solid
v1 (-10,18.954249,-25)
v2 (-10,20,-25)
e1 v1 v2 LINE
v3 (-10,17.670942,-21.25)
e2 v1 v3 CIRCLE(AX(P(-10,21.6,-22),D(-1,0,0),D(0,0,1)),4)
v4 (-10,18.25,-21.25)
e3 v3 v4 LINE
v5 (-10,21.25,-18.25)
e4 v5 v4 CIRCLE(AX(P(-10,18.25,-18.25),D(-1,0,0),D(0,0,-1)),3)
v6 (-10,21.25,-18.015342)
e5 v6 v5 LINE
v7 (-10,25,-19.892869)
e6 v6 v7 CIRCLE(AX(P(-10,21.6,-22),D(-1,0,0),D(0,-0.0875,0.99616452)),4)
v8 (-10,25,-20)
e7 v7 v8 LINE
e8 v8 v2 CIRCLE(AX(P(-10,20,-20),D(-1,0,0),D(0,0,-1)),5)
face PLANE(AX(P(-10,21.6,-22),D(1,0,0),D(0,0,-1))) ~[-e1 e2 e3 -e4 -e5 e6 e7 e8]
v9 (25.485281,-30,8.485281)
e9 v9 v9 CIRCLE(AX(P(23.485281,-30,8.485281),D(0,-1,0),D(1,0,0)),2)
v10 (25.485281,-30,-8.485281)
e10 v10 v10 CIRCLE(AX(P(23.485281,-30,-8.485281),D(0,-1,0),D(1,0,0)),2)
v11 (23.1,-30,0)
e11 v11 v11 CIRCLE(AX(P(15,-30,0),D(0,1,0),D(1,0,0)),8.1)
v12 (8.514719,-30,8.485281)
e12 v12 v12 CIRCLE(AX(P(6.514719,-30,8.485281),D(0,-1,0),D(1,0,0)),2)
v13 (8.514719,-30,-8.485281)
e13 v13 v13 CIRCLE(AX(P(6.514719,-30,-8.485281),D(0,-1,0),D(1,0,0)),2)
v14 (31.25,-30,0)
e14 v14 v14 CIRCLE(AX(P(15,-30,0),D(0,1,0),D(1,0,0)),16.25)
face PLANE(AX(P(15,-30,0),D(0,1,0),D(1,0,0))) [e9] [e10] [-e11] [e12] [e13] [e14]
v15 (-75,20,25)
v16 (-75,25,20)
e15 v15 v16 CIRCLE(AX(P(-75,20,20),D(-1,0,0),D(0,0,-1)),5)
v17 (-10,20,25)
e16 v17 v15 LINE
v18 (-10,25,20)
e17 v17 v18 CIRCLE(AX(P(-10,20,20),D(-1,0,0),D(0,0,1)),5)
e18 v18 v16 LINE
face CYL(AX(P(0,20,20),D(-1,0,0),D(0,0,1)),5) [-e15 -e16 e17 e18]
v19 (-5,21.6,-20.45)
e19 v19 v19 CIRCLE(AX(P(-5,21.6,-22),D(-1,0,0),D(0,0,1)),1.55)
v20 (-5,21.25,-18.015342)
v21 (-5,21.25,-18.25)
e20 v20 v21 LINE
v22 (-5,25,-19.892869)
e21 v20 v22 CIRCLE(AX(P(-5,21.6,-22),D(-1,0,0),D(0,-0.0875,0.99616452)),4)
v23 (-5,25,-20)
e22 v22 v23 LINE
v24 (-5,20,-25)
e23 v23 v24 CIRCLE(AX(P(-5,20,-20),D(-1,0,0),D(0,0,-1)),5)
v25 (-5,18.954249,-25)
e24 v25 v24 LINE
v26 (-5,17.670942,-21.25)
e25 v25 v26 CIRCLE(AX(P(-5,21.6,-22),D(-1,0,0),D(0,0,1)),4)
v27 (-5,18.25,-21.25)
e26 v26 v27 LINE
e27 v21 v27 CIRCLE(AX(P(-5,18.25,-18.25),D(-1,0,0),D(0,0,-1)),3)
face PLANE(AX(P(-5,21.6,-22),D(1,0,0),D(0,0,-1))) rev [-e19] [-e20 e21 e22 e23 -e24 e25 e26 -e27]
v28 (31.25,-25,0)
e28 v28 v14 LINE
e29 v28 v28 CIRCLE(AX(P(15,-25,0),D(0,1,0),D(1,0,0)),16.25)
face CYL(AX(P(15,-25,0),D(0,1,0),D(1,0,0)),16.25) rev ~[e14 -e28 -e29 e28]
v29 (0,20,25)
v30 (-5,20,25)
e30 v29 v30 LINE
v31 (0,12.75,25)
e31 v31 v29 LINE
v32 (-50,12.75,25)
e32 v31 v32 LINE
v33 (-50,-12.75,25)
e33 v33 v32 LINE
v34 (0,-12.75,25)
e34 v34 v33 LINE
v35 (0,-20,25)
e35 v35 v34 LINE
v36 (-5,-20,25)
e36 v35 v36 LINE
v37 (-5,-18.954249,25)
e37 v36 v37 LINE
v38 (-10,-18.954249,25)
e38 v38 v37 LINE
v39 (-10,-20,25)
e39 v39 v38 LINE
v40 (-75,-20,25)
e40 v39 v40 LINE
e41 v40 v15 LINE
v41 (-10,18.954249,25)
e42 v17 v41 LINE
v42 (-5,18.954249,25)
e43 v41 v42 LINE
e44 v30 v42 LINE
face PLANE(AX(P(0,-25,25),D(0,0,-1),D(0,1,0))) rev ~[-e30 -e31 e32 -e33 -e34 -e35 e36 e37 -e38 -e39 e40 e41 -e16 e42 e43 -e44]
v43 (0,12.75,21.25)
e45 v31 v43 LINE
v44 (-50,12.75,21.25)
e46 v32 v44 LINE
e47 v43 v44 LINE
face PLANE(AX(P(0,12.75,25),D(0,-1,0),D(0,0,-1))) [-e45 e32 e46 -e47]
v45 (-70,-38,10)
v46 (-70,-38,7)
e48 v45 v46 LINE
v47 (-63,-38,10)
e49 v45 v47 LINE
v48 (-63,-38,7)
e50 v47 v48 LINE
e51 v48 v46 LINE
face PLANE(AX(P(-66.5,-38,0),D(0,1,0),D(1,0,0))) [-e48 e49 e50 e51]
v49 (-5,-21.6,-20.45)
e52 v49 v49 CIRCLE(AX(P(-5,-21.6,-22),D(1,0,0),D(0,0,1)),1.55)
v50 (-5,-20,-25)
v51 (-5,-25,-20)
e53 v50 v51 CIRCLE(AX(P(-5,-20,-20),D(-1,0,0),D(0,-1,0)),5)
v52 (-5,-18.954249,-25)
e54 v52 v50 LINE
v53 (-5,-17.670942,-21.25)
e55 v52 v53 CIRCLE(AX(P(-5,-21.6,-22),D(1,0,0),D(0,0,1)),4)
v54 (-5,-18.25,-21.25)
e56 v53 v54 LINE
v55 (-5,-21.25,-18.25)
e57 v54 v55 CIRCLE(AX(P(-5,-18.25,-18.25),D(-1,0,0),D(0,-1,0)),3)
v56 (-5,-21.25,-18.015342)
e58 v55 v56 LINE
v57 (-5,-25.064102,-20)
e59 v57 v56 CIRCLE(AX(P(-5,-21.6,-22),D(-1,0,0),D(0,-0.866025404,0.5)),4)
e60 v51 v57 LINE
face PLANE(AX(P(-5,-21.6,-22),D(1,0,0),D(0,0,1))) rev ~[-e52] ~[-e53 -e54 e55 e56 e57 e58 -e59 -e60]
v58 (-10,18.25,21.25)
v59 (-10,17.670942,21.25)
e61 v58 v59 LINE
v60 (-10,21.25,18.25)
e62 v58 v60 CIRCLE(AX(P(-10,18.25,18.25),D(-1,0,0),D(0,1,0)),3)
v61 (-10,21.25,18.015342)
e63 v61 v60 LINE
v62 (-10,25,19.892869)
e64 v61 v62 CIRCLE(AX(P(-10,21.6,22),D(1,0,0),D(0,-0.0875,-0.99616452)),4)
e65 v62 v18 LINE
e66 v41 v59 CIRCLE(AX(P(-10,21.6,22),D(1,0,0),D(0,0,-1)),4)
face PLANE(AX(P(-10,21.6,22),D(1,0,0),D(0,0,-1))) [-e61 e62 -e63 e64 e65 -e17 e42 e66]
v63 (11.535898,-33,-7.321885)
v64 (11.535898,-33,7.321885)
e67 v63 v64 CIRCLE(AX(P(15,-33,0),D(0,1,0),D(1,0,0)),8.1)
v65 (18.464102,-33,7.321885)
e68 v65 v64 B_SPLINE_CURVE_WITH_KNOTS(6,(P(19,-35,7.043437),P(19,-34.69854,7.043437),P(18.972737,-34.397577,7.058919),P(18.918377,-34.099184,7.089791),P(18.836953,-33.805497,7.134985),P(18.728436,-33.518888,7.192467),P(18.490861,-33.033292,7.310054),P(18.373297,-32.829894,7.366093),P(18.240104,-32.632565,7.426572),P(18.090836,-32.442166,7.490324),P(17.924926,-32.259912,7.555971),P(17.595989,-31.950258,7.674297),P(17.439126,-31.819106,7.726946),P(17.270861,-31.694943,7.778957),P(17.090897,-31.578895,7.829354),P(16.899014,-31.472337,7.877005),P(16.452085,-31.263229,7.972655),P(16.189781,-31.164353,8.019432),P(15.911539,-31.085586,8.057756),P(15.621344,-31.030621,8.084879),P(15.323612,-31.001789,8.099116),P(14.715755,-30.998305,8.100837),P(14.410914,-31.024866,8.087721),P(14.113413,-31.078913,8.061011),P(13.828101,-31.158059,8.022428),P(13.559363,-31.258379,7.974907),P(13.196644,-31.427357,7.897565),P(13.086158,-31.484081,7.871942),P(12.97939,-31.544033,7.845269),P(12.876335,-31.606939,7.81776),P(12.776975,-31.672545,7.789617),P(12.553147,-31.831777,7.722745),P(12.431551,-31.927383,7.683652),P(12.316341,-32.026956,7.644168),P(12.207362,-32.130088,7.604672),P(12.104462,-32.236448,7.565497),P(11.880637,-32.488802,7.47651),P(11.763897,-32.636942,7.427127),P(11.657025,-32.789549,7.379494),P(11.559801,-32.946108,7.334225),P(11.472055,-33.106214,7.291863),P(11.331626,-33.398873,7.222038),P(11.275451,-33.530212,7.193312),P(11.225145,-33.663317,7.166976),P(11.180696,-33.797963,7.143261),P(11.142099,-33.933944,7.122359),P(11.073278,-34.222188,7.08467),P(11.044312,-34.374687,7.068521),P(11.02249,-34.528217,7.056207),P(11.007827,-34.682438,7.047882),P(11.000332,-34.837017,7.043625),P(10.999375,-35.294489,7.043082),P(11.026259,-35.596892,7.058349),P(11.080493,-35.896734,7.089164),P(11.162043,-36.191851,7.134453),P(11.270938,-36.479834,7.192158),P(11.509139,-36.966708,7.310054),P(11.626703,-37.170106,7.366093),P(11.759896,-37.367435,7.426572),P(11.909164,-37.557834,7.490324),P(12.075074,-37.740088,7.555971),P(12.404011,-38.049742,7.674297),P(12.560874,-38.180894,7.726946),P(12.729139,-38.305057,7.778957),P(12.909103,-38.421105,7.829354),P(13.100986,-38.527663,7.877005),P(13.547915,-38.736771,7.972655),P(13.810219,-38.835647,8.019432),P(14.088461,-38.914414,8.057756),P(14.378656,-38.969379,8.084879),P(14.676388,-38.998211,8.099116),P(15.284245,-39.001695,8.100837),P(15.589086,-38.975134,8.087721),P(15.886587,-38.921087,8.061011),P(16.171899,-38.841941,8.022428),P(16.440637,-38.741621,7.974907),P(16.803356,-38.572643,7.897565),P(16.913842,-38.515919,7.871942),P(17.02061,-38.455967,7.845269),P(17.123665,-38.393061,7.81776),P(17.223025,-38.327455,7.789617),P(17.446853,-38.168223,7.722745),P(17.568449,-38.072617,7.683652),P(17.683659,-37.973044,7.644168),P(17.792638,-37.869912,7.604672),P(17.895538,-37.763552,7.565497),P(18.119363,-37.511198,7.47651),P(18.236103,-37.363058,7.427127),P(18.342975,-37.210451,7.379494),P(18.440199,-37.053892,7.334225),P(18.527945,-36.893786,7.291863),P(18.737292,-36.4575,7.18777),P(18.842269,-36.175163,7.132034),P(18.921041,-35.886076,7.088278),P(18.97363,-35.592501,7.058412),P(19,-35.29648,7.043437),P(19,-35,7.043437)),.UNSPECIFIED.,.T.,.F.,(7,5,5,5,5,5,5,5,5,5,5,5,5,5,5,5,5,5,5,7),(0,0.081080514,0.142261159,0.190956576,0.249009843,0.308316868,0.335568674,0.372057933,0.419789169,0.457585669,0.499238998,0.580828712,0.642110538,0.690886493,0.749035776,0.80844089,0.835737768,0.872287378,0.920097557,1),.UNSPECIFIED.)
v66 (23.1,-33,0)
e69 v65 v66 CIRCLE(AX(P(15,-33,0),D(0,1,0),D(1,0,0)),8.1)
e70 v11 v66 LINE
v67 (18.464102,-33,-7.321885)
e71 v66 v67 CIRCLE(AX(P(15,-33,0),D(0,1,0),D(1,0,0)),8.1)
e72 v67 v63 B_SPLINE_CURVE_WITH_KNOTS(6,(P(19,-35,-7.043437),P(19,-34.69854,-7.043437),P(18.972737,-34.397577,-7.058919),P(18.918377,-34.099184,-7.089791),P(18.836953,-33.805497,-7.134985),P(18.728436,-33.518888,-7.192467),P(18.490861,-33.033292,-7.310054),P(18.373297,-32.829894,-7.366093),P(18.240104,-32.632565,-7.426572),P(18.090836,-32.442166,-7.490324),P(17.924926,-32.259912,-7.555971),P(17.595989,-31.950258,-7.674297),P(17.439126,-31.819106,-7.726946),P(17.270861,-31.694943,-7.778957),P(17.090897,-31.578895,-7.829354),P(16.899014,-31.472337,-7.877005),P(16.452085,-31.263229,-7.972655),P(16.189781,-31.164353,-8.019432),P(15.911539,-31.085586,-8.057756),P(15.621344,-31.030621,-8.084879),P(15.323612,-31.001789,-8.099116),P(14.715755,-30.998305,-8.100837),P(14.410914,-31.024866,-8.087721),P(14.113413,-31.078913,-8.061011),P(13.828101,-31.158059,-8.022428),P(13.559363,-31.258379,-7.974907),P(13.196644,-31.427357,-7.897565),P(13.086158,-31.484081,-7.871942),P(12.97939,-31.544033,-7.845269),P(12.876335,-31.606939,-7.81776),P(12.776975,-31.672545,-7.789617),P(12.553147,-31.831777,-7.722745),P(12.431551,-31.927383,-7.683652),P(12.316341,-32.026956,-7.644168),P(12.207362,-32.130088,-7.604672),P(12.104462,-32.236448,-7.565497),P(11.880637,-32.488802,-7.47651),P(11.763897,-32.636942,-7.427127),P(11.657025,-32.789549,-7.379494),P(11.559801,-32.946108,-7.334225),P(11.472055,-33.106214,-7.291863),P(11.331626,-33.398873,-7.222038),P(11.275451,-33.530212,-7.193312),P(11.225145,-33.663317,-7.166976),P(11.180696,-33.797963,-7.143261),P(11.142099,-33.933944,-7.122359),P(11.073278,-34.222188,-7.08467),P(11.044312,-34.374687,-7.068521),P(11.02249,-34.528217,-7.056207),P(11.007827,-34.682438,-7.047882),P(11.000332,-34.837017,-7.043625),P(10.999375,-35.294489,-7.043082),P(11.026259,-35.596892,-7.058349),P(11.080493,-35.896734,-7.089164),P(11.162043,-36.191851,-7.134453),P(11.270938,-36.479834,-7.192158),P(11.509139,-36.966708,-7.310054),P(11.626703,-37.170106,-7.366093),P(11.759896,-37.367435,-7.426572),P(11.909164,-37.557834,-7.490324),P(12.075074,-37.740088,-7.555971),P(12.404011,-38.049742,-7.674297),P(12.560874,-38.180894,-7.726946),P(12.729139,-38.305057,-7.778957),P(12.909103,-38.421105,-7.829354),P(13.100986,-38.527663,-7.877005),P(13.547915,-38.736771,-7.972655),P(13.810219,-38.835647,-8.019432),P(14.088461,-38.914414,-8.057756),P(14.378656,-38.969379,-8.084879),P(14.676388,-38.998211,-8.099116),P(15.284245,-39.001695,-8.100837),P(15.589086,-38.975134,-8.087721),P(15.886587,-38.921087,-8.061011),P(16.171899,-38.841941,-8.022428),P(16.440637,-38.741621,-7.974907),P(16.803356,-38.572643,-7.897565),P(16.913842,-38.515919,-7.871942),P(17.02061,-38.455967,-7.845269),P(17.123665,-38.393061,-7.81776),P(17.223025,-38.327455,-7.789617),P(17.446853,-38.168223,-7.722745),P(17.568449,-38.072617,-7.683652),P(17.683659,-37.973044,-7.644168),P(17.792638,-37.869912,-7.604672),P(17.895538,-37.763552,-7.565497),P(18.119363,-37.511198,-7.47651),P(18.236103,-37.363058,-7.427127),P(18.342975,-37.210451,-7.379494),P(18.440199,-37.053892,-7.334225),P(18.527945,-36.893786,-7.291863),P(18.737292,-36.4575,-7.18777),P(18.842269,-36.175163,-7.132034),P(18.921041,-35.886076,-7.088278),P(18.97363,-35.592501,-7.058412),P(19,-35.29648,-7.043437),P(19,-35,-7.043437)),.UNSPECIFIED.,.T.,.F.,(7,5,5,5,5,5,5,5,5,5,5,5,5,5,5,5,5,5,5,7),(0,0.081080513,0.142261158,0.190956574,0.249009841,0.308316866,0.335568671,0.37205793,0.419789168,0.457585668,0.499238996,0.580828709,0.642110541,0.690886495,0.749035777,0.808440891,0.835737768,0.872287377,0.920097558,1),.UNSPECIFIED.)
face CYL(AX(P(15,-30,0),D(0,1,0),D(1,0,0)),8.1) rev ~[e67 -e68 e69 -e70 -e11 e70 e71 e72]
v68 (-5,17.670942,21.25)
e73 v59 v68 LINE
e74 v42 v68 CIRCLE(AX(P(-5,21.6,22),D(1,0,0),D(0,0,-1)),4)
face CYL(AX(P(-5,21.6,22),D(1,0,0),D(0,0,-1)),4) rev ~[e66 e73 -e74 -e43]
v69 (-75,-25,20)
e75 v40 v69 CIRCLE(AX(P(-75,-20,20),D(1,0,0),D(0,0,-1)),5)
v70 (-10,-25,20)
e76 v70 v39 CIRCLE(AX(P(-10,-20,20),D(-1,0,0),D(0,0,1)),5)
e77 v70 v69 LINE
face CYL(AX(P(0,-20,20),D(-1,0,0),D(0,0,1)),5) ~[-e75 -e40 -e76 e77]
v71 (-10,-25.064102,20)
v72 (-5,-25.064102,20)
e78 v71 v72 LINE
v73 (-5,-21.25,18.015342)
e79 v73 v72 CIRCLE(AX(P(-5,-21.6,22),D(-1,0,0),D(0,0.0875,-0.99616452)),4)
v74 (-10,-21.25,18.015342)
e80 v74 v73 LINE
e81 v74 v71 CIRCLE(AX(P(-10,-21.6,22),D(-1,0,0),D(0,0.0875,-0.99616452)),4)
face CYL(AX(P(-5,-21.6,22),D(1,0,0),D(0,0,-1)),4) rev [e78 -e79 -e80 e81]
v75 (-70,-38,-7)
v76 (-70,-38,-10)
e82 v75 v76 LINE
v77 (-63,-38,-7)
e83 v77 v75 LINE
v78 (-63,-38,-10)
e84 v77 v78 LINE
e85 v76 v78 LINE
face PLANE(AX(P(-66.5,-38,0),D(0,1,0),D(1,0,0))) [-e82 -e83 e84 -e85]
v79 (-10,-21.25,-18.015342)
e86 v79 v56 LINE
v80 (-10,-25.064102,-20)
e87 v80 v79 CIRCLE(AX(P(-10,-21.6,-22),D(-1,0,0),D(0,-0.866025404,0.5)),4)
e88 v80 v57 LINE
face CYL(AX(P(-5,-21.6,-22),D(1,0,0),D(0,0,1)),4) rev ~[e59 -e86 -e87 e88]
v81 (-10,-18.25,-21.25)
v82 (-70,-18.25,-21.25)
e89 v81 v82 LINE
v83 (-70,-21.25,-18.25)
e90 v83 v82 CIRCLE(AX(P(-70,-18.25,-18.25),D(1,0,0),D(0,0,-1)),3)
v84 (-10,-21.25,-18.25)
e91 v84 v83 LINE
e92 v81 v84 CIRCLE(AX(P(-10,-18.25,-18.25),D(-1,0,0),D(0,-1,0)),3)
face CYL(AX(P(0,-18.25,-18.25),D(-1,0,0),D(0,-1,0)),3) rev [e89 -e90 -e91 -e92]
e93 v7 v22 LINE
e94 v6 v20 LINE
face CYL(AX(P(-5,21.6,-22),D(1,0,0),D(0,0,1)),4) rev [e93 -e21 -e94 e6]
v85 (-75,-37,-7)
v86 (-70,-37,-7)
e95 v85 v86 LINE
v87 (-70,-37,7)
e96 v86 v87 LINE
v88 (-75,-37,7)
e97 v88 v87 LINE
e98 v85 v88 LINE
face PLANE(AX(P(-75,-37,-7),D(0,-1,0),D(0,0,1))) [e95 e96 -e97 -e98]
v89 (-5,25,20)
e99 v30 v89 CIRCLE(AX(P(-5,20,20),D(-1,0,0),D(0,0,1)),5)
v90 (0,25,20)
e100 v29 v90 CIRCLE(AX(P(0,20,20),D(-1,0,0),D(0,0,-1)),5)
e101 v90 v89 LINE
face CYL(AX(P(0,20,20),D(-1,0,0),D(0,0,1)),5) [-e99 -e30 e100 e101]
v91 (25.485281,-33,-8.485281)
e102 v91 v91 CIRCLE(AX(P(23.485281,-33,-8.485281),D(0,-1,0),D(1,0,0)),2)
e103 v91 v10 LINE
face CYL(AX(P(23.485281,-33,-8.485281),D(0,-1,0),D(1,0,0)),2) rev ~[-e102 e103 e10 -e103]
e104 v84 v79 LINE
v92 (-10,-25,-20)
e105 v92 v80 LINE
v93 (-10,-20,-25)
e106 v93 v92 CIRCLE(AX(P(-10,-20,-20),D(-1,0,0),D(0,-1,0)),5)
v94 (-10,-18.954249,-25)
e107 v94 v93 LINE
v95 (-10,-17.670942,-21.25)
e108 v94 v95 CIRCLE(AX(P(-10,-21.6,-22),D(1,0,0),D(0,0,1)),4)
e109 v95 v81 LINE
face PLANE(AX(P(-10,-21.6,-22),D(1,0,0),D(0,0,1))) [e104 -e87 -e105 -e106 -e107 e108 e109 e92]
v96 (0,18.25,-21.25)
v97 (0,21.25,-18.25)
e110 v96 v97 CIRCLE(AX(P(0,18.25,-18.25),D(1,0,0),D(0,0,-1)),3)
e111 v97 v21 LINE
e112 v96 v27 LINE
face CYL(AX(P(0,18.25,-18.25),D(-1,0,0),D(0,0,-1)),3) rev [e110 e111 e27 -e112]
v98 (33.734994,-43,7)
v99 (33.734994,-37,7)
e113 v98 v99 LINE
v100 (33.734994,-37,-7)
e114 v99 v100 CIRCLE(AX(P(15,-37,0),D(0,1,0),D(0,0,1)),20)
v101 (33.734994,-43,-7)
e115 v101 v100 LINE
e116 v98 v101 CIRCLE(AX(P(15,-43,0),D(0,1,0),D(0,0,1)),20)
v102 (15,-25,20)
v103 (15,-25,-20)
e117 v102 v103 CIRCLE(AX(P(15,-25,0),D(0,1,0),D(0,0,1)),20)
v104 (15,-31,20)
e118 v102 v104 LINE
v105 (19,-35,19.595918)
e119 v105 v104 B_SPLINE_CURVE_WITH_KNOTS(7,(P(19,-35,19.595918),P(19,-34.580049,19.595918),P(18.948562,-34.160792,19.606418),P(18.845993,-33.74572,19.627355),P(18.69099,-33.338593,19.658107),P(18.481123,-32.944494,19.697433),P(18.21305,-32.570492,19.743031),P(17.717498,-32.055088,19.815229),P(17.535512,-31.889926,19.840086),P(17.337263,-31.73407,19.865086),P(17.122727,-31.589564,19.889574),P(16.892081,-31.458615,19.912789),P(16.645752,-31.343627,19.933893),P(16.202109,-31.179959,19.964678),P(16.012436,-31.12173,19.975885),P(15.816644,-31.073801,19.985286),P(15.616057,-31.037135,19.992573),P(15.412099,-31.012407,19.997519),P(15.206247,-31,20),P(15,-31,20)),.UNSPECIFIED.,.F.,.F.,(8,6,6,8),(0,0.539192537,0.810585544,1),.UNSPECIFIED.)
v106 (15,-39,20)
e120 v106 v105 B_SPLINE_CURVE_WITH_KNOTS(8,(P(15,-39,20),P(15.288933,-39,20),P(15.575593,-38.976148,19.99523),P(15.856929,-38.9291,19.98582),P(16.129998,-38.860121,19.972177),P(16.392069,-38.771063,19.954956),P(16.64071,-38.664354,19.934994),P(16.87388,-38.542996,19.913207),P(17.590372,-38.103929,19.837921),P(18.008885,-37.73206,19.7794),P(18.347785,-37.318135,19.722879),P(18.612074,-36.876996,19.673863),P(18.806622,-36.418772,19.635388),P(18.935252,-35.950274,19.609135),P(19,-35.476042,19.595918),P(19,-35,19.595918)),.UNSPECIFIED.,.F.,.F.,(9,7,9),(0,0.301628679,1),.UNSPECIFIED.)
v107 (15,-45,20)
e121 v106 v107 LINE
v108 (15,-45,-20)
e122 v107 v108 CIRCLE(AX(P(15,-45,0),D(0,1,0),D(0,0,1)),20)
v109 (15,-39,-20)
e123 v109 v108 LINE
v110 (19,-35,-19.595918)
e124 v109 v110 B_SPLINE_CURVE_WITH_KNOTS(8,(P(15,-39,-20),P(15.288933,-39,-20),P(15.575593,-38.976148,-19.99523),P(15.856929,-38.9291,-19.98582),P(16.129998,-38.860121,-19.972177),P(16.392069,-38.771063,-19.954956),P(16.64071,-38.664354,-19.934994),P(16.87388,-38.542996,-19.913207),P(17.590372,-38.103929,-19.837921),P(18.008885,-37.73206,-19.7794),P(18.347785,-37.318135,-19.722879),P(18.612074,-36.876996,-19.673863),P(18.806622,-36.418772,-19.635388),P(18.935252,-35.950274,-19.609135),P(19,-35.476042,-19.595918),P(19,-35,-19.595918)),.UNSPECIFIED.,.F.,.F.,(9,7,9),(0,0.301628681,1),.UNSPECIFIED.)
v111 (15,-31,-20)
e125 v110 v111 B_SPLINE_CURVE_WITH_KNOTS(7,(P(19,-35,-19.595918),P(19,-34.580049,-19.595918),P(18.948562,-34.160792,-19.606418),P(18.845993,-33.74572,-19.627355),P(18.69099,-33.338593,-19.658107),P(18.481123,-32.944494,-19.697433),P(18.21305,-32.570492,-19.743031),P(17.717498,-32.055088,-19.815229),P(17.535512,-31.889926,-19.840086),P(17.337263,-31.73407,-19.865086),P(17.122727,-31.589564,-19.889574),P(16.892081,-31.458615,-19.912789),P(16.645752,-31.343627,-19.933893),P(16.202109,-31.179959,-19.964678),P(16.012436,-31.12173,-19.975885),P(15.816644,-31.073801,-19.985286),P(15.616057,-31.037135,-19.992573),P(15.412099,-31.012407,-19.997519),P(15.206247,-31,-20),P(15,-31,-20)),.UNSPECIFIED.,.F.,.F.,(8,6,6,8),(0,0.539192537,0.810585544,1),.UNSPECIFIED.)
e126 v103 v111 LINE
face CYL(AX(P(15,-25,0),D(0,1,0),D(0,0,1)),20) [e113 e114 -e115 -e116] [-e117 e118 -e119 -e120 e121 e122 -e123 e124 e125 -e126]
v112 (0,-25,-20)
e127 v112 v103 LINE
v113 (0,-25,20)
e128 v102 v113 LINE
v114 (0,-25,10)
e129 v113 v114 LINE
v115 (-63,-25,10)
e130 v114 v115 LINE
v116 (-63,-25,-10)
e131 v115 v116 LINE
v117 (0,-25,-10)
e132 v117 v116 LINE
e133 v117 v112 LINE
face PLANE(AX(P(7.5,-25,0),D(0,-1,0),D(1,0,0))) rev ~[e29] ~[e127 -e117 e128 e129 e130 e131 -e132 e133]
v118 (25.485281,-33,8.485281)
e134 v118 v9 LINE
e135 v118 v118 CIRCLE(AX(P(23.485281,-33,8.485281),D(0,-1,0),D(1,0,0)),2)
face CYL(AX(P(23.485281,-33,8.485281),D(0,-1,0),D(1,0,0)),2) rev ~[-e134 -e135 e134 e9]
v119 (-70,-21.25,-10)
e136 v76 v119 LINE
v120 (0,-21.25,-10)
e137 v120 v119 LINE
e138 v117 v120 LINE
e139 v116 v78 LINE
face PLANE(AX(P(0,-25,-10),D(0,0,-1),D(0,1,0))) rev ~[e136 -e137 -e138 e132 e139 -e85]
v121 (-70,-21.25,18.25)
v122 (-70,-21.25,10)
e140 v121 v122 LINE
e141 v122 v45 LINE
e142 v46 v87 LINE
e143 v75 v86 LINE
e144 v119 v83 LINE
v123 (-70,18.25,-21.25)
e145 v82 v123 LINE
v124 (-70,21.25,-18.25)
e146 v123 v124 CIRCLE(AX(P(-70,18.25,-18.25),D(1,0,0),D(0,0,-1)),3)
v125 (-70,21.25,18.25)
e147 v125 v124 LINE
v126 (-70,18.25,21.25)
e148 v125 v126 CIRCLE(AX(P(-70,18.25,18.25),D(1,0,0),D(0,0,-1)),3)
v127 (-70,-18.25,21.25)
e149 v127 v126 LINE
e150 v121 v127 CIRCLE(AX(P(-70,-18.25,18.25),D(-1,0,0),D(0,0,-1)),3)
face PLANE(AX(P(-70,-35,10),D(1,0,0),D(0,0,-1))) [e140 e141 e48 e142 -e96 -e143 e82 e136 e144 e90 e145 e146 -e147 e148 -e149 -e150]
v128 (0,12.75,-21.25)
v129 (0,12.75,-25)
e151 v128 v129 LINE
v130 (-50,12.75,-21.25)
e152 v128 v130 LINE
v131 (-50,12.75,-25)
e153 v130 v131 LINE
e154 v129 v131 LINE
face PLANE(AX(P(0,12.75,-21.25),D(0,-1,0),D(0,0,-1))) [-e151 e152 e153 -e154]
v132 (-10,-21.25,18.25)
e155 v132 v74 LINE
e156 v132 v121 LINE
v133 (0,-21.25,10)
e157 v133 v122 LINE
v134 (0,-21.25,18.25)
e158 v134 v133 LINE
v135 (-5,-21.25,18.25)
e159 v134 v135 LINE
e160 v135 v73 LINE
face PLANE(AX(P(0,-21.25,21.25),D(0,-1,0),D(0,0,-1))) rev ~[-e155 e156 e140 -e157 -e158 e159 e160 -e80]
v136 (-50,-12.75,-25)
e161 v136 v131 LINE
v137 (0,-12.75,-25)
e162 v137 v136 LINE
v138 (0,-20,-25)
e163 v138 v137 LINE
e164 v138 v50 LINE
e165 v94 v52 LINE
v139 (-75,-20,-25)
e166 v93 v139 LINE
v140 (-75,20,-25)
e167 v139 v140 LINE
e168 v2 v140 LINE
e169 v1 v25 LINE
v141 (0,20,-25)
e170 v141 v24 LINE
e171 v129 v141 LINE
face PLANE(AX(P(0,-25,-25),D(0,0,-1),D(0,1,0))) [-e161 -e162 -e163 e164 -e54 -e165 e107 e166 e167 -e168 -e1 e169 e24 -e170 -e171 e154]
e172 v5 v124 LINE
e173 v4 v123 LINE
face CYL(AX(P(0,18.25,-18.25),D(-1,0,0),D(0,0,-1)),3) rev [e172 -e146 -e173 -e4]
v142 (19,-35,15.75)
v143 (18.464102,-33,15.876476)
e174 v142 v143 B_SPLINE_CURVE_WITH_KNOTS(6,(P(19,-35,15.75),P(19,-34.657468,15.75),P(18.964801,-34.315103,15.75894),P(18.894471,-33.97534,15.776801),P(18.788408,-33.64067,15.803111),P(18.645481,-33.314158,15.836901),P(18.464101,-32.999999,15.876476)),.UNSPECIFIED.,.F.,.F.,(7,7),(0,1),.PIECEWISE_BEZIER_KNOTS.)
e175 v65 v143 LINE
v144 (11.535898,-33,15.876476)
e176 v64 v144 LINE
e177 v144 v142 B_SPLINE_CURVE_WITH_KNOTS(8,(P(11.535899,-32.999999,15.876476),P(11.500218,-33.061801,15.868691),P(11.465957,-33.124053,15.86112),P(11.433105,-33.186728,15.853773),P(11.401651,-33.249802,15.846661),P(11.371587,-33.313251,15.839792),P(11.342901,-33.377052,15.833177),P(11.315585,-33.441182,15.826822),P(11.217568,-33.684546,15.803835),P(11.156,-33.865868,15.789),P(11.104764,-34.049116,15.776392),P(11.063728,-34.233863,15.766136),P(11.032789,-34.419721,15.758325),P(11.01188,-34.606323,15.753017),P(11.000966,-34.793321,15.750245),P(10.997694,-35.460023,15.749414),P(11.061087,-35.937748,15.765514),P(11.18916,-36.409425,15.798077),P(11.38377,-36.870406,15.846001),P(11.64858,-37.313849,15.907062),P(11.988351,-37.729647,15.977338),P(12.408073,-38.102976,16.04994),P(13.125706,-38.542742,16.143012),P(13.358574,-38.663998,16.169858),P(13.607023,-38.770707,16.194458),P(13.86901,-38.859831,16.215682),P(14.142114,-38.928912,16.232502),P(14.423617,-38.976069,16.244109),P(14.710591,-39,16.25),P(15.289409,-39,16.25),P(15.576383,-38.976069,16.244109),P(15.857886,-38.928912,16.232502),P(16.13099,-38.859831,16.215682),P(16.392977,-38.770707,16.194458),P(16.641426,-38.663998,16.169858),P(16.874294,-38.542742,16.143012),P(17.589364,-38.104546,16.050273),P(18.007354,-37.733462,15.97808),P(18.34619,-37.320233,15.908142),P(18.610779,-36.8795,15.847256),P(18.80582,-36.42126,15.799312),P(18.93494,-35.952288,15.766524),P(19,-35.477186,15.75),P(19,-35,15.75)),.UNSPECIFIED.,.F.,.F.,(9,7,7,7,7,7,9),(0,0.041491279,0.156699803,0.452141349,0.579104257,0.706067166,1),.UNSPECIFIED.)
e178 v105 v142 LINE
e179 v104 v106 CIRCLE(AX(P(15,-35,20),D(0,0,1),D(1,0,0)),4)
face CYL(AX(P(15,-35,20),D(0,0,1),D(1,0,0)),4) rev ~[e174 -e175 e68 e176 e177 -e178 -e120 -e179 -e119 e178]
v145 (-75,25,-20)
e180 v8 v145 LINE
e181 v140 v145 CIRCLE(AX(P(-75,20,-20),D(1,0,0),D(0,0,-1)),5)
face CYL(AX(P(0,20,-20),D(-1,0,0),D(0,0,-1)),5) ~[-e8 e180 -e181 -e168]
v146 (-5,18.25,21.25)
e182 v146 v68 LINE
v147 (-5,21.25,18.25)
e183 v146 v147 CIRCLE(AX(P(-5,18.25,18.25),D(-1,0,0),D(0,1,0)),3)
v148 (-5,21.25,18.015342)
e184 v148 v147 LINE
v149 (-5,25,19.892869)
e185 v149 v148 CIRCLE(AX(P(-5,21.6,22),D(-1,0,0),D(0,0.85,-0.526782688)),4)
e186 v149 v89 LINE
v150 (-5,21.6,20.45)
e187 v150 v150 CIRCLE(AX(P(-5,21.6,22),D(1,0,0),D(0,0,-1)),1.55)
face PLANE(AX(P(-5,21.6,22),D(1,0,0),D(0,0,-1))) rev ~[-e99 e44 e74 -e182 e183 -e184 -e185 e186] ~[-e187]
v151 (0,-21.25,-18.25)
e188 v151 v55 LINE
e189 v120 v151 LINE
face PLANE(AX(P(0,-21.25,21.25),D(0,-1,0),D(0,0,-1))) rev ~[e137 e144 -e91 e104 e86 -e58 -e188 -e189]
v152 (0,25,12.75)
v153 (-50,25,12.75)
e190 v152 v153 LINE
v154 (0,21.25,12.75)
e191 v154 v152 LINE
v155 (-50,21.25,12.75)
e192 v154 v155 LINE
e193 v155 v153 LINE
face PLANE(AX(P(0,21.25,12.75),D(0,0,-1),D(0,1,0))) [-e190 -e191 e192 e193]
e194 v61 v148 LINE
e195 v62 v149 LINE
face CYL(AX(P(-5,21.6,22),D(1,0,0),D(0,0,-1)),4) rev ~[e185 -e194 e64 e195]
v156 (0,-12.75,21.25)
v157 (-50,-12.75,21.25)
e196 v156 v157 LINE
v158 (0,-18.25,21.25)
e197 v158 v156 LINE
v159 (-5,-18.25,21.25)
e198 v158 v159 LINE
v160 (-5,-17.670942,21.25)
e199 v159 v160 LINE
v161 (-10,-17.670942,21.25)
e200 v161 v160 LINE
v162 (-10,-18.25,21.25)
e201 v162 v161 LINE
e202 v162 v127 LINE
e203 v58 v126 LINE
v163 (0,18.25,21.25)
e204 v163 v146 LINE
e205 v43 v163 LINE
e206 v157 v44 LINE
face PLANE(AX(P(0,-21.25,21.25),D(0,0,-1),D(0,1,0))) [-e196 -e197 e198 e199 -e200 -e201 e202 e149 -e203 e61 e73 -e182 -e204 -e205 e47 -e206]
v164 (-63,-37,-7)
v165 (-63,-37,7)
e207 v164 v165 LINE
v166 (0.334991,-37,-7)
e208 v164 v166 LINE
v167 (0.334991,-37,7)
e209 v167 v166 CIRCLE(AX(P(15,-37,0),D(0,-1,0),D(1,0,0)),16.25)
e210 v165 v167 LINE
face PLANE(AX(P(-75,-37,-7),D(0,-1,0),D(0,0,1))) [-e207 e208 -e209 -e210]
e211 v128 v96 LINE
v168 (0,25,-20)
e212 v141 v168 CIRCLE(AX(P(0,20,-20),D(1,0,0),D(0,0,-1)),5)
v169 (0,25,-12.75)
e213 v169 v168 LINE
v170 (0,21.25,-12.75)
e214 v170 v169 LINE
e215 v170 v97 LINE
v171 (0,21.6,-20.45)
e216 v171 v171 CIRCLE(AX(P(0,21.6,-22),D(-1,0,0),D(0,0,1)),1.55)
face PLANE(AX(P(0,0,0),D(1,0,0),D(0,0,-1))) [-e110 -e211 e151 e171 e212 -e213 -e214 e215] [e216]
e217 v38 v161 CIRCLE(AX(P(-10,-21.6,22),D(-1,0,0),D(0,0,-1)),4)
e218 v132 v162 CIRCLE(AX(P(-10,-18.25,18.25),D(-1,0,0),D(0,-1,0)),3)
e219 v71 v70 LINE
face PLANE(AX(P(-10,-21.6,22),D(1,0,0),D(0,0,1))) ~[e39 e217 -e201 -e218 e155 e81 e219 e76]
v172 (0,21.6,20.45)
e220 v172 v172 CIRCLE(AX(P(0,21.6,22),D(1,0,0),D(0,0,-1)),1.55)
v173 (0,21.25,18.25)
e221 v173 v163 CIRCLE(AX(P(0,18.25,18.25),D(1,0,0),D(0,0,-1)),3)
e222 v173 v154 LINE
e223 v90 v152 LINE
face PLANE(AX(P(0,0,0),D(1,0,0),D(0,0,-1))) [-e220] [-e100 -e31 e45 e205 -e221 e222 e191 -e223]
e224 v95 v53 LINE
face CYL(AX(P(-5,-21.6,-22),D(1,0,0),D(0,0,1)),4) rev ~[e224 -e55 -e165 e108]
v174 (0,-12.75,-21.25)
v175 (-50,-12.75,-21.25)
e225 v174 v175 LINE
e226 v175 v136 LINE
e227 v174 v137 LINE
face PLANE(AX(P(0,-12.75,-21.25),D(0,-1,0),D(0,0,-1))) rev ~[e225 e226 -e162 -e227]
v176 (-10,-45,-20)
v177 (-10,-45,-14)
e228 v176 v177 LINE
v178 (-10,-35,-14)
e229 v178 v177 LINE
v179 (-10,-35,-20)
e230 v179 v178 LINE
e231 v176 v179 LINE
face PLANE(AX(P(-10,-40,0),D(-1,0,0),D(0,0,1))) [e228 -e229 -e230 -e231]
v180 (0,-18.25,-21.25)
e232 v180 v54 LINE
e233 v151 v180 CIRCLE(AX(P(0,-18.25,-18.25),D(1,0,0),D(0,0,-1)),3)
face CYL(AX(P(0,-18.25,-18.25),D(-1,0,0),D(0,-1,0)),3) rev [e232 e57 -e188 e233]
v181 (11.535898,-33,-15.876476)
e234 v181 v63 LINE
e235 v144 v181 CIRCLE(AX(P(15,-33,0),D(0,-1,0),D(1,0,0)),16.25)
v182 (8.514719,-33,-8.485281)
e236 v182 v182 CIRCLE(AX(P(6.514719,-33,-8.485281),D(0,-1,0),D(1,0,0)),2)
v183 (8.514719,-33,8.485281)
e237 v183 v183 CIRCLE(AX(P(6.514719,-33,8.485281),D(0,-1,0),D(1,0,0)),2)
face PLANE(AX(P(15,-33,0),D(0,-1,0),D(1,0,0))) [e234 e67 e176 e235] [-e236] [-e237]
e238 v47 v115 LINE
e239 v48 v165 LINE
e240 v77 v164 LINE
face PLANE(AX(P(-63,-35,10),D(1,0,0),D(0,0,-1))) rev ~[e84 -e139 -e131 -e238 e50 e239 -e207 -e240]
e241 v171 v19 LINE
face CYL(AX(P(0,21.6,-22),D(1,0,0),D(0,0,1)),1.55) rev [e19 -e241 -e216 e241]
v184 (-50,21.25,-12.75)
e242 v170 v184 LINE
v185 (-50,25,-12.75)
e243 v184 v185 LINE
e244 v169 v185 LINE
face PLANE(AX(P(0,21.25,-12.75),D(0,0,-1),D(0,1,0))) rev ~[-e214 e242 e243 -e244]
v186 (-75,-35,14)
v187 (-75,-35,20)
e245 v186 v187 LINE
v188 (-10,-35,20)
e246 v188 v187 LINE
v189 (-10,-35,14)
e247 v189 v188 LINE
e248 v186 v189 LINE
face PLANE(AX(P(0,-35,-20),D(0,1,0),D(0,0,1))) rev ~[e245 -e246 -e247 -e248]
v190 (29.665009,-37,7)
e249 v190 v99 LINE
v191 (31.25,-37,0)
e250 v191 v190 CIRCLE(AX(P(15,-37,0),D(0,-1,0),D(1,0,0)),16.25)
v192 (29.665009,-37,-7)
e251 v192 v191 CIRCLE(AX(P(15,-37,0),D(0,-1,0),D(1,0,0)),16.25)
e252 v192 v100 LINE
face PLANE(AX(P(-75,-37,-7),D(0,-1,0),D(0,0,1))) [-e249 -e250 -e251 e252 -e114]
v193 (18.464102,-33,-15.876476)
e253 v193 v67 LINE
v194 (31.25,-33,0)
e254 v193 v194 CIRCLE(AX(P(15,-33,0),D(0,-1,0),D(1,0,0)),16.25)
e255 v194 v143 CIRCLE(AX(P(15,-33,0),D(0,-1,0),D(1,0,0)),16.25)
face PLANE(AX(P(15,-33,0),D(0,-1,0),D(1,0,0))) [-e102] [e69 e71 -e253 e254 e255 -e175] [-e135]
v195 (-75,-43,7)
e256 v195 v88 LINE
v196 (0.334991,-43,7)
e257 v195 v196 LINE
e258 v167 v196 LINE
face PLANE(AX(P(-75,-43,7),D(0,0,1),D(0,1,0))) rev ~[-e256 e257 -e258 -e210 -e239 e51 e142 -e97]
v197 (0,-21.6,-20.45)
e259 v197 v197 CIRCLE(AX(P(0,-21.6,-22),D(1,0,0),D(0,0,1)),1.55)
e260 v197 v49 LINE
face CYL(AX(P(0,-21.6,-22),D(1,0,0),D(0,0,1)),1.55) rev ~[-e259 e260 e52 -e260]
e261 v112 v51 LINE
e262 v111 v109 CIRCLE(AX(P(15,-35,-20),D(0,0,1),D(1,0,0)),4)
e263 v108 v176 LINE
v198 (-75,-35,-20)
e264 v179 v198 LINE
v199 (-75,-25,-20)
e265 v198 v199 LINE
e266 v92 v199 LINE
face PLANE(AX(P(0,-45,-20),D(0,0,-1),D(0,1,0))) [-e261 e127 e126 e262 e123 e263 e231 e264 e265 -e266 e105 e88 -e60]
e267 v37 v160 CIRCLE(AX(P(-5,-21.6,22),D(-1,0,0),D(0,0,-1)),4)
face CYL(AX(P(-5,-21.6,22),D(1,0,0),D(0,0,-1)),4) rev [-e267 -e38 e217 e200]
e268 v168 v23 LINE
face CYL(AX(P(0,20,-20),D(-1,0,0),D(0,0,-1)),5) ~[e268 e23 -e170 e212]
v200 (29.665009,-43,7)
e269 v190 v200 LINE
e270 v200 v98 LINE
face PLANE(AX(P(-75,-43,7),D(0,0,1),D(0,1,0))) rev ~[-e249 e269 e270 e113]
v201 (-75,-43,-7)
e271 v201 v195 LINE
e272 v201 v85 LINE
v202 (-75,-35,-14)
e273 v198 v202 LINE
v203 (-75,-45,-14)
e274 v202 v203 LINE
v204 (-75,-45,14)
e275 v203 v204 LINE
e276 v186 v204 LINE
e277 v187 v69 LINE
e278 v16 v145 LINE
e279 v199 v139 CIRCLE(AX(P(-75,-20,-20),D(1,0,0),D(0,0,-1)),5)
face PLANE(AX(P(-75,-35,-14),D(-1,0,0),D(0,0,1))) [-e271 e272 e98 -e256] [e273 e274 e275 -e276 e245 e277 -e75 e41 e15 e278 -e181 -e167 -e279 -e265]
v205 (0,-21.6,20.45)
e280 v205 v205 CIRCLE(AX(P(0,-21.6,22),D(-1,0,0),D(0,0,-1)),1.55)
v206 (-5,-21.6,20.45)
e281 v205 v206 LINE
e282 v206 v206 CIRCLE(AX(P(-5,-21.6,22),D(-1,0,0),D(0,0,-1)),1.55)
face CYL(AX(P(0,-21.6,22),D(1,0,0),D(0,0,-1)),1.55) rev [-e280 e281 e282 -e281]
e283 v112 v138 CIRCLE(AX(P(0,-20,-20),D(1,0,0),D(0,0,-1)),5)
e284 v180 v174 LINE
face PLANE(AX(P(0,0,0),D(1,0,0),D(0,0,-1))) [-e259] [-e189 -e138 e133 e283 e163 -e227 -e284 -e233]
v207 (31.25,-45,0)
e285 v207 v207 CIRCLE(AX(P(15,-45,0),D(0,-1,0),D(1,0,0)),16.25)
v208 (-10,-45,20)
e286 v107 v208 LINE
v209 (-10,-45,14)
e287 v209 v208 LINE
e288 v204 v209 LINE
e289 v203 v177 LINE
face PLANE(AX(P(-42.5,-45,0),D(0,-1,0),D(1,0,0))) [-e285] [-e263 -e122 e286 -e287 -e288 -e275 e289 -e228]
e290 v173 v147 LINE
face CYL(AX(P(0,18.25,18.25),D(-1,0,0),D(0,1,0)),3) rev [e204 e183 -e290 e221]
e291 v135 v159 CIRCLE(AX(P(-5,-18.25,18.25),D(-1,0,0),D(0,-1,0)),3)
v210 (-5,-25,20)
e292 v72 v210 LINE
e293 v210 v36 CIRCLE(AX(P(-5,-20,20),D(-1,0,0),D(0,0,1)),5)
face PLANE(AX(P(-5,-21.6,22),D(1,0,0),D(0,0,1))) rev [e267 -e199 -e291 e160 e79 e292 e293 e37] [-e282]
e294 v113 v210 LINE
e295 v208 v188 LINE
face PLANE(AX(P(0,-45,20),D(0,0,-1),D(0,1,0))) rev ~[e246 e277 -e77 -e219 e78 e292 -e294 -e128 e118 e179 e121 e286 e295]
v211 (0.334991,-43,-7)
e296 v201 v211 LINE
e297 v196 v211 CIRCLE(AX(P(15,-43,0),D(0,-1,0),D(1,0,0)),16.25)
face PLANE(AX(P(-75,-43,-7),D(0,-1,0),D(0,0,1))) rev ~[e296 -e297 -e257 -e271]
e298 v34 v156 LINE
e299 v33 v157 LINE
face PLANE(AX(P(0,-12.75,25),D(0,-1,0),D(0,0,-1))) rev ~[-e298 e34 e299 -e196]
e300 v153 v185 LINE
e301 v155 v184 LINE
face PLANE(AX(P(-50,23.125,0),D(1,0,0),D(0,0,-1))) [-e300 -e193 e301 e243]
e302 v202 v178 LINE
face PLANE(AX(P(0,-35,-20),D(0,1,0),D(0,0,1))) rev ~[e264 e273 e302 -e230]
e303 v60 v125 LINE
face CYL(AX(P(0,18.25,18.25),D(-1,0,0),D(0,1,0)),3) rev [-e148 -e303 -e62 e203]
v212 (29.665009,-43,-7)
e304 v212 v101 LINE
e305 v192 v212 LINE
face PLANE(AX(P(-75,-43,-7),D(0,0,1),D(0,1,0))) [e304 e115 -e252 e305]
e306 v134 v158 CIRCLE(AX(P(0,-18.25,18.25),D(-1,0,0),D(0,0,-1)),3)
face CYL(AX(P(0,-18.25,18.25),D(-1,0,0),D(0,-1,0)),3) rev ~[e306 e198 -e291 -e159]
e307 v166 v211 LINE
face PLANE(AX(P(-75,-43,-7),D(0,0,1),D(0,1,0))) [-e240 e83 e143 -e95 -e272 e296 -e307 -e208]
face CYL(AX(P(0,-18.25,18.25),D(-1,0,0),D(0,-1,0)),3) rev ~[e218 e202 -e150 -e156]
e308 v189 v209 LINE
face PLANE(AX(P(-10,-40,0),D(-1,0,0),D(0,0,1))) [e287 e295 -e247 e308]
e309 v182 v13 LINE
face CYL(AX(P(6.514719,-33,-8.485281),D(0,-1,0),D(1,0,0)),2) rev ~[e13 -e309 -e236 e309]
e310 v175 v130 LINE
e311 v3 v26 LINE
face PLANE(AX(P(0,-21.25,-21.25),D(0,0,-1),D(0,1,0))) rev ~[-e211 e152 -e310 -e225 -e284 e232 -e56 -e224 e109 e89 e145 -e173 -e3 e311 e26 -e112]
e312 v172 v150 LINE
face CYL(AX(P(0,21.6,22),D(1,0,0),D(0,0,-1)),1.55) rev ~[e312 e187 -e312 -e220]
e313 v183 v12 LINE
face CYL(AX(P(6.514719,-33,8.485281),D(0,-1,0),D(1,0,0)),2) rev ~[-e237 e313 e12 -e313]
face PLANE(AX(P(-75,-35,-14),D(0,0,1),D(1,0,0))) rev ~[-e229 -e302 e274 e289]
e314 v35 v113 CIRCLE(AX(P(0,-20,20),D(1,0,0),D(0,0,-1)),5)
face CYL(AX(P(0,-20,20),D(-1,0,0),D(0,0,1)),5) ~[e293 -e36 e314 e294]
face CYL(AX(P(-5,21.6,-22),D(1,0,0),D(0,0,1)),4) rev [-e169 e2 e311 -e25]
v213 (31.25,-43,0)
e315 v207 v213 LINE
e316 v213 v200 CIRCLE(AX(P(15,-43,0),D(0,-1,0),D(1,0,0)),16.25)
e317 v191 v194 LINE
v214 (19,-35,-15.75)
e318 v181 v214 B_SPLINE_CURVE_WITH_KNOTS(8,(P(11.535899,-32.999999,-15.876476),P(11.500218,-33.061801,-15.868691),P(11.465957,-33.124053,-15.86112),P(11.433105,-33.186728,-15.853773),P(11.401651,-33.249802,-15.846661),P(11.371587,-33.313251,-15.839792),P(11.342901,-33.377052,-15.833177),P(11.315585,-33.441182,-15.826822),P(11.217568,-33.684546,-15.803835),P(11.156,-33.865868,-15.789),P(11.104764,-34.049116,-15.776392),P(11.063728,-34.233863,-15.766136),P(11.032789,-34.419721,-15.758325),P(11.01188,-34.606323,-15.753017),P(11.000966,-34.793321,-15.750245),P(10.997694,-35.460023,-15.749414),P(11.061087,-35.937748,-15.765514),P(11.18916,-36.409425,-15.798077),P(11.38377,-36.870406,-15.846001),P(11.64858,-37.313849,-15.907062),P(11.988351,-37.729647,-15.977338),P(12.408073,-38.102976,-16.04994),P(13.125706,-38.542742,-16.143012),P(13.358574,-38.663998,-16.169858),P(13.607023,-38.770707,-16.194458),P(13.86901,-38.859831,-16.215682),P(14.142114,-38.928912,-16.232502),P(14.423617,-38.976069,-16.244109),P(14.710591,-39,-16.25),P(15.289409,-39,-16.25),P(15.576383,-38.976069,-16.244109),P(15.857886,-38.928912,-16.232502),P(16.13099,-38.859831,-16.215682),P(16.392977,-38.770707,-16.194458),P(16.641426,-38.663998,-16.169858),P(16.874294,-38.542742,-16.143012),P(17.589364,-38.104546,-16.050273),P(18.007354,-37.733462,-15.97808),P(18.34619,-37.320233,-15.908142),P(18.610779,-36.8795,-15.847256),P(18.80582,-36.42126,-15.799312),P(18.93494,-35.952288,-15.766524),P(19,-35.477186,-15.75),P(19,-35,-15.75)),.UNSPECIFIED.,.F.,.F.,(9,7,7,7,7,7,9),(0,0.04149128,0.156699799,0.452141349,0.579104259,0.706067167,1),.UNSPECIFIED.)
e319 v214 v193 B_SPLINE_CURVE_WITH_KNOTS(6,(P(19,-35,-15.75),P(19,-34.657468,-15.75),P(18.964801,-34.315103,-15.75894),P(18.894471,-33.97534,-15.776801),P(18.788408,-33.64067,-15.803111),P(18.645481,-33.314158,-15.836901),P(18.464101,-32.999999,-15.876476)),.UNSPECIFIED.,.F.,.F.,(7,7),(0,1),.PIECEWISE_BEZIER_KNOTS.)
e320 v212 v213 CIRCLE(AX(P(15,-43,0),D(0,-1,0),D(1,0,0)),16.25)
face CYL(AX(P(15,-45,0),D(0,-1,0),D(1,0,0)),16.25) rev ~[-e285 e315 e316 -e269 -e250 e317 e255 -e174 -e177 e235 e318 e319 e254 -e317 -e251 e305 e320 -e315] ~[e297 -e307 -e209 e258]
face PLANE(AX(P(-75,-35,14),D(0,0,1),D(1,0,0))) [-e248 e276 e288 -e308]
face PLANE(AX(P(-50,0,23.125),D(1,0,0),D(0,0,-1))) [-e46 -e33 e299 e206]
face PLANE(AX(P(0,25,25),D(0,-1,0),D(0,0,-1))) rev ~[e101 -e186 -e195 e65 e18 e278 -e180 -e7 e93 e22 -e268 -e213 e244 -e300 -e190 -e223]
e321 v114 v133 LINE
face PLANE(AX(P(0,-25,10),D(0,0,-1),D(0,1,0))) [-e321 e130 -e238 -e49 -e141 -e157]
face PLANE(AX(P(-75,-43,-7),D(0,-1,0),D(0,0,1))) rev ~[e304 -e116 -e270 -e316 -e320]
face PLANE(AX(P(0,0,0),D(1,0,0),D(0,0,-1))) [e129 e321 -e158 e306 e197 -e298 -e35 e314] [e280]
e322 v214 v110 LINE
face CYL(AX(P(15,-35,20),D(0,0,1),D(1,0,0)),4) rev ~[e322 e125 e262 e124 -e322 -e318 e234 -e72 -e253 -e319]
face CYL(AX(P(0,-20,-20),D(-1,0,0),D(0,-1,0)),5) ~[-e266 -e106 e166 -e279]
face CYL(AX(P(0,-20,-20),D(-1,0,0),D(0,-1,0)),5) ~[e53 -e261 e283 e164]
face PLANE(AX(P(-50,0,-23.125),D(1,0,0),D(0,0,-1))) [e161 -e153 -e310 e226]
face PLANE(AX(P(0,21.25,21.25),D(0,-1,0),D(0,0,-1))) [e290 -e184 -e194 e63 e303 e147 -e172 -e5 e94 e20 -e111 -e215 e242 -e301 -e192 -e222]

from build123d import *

# Parameters (mm, degrees)
SKETCH1_W               = 50
SKETCH1_H               = 50
BOSS_EXTRUDE1_DEPTH     = 75
FILLET1_R               = 5
SKETCH2_W               = 42.5
SKETCH2_H               = 42.5
CUT_EXTRUDE1_DEPTH      = 70
FILLET2_R               = 3
SKETCH3_W               = 25.5
SKETCH3_H               = 3.75
SKETCH3_W_2             = 3.75
SKETCH3_H_2             = 25.5
CUT_EXTRUDE2_DEPTH      = 50
SKETCH4_W               = 20
SKETCH4_H               = 3.75
CUT_EXTRUDE3_DEPTH      = 70
BOSS_EXTRUDE2_DEPTH     = 20
SKETCH6_W               = 40
SKETCH6_H               = 10
BOSS_EXTRUDE4_DEPTH     = 75
SKETCH7_W               = 7
SKETCH7_H               = 20
CUT_EXTRUDE4_DEPTH      = 8
SKETCH8_R               = 1.55
CUT_EXTRUDE5_DEPTH      = 5
SKETCH9_R               = 4
CUT_EXTRUDE6_DEPTH      = 5
MIRROR2_COPY_1_SKETCH_R = 1.55
MIRROR2_COPY_1_DEPTH    = 5
MIRROR2_COPY_2_SKETCH_R = 4
MIRROR2_COPY_2_DEPTH    = 5
SKETCH11_W              = 40
SKETCH11_H              = 10
BOSS_EXTRUDE5_DEPTH     = 10
SKETCH12_R              = 4
CUT_EXTRUDE7_DEPTH      = 46
SKETCH13_R              = 16.25
CUT_EXTRUDE8_DEPTH      = 5
SKETCH14_R              = 16.25
CUT_EXTRUDE9_DEPTH      = 12
SKETCH15_R              = 8.1
CUT_EXTRUDE10_DEPTH     = 12
SKETCH16_R              = 2
CUT_EXTRUDE11_DEPTH     = 12
SKETCH17_W              = 7
SKETCH17_H              = 20
CUT_EXTRUDE12_DEPTH     = 20
SKETCH18_W              = 65
SKETCH18_H              = 28
BOSS_EXTRUDE6_DEPTH     = 10
SKETCH19_W              = 14
SKETCH19_H              = 6
CUT_EXTRUDE13_DEPTH     = 130
SKETCH20_W              = 7
SKETCH20_H              = 20
CUT_EXTRUDE14_DEPTH     = 3


with BuildPart() as part:
    # Sketch1 → Boss-Extrude1 (new body)
    with BuildSketch(Plane(origin=(0, 0, 0), x_dir=(0, 0, -1), z_dir=(1, 0, 0))):
        Rectangle(SKETCH1_W, SKETCH1_H)
    extrude(amount=-BOSS_EXTRUDE1_DEPTH)

    # Fillet1
    fillet1_edges = [part.edges().sort_by_distance(p)[0] for p in [
        (-37.5, -25, -25),
        (-37.5, -25, 25),
        (-37.5, 25, 25),
        (-37.5, 25, -25),
    ]]
    fillet(fillet1_edges, radius=FILLET1_R)

    # Sketch2 → Cut-Extrude1 (cut)
    with BuildSketch(Plane(origin=(0, 0, 0), x_dir=(0, 0, -1), z_dir=(1, 0, 0))):
        Rectangle(SKETCH2_W, SKETCH2_H)
    extrude(amount=-CUT_EXTRUDE1_DEPTH, mode=Mode.SUBTRACT)

    # Fillet2
    fillet2_edges = [part.edges().sort_by_distance(p)[0] for p in [
        (-35, 21.25, -21.25),
        (-35, -21.25, -21.25),
        (-35, -21.25, 21.25),
        (-35, 21.25, 21.25),
    ]]
    fillet(fillet2_edges, radius=FILLET2_R)

    # Sketch3 → Cut-Extrude2 (cut)
    with BuildSketch(Plane(origin=(0, 0, 0), x_dir=(0, 0, -1), z_dir=(1, 0, 0))):
        with Locations((0, 23.125)):
            Rectangle(SKETCH3_W, SKETCH3_H)
        with Locations((-23.125, 0)):
            Rectangle(SKETCH3_W_2, SKETCH3_H_2)
        with Locations((23.125, 0)):
            Rectangle(SKETCH3_W_2, SKETCH3_H_2)
    extrude(amount=-CUT_EXTRUDE2_DEPTH, mode=Mode.SUBTRACT)

    # Sketch4 → Cut-Extrude3 (cut)
    with BuildSketch(Plane(origin=(0, 0, 0), x_dir=(0, 0, -1), z_dir=(1, 0, 0))):
        with Locations((0, -23.125)):
            Rectangle(SKETCH4_W, SKETCH4_H)
    extrude(amount=-CUT_EXTRUDE3_DEPTH, mode=Mode.SUBTRACT)



with BuildPart() as body_2:
    # Sketch5 → Boss-Extrude2 (new body)
    with BuildSketch(Plane.XZ.offset(25)):
        Polygon((15, 20), (0, 20), (0, 10), (0, -10), (0, -20), (15, -20), align=None)
        with BuildLine():
            ThreePointArc((15, 20), (35, 0), (15, -20))
            Line((15, -20), (15, 20))
        make_face()
    extrude(amount=BOSS_EXTRUDE2_DEPTH)


with BuildPart() as part_1:
    add(part.part)

    add(body_2.part)  # Boss-Extrude4 merges body 2
    # Sketch6 → Boss-Extrude4 (add)
    with BuildSketch(Plane.ZY):
        with Locations((0, -30)):
            Rectangle(SKETCH6_W, SKETCH6_H)
    extrude(amount=BOSS_EXTRUDE4_DEPTH)

    # Sketch7 → Cut-Extrude4 (cut)
    with BuildSketch(Plane(origin=(0, -25, 0), x_dir=(1, 0, 0), z_dir=(0, 1, 0))):
        with Locations((-66.5, 0)):
            Rectangle(SKETCH7_W, SKETCH7_H)
    extrude(amount=-CUT_EXTRUDE4_DEPTH, mode=Mode.SUBTRACT)

    # Sketch8 → Cut-Extrude5 (cut)
    with BuildSketch(Plane(origin=(0, 0, 0), x_dir=(0, 0, -1), z_dir=(1, 0, 0))):
        with Locations((-22, 21.6)):
            Circle(SKETCH8_R)
    cut_extrude5 = extrude(amount=-CUT_EXTRUDE5_DEPTH, mode=Mode.SUBTRACT)

    # Sketch9 → Cut-Extrude6 (cut)
    with BuildSketch(Plane(origin=(-5, 0, 0), x_dir=(0, 0, -1), z_dir=(1, 0, 0))):
        with Locations((-22, 21.6)):
            Circle(SKETCH9_R)
    cut_extrude6 = extrude(amount=-CUT_EXTRUDE6_DEPTH, mode=Mode.SUBTRACT)

    # Mirror1: Cut-Extrude5, Cut-Extrude6 across plane
    add(cut_extrude5.mirror(Plane.ZX), mode=Mode.SUBTRACT)
    add(cut_extrude6.mirror(Plane.ZX), mode=Mode.SUBTRACT)

    # Mirror2: Cut-Extrude5, Cut-Extrude6 across plane
    add(cut_extrude5.mirror(Plane.XY), mode=Mode.SUBTRACT)
    add(cut_extrude6.mirror(Plane.XY), mode=Mode.SUBTRACT)

    # Mirror2 copy 1 sketch → Mirror2 copy 1 (cut)
    with BuildSketch(Plane(origin=(0, 0, 0), x_dir=(0, 0, 1), z_dir=(1, 0, 0))):
        with Locations((-22, 21.6)):
            Circle(MIRROR2_COPY_1_SKETCH_R)
    extrude(amount=-MIRROR2_COPY_1_DEPTH, mode=Mode.SUBTRACT)

    # Mirror2 copy 2 sketch → Mirror2 copy 2 (cut)
    with BuildSketch(Plane(origin=(-5, 0, 0), x_dir=(0, 0, 1), z_dir=(1, 0, 0))):
        with Locations((-22, 21.6)):
            Circle(MIRROR2_COPY_2_SKETCH_R)
    extrude(amount=-MIRROR2_COPY_2_DEPTH, mode=Mode.SUBTRACT)

    # Sketch11 → Boss-Extrude5 (add)
    with BuildSketch(Plane.ZY):
        with Locations((0, -40)):
            Rectangle(SKETCH11_W, SKETCH11_H)
    extrude(amount=BOSS_EXTRUDE5_DEPTH)

    # Sketch12 → Cut-Extrude7 (cut, through all)
    with BuildSketch(Plane.XY.offset(20)):
        with Locations((15, -35)):
            Circle(SKETCH12_R)
    extrude(amount=-CUT_EXTRUDE7_DEPTH, mode=Mode.SUBTRACT)

    # Sketch13 → Cut-Extrude8 (cut)
    with BuildSketch(Plane(origin=(0, -25, 0), x_dir=(1, 0, 0), z_dir=(0, 1, 0))):
        with Locations((15, 0)):
            Circle(SKETCH13_R)
    extrude(amount=-CUT_EXTRUDE8_DEPTH, mode=Mode.SUBTRACT)

    # Sketch14 → Cut-Extrude9 (cut)
    with BuildSketch(Plane.XZ.offset(45)):
        with Locations((15, 0)):
            Circle(SKETCH14_R)
    extrude(amount=-CUT_EXTRUDE9_DEPTH, mode=Mode.SUBTRACT)

    # Sketch15 → Cut-Extrude10 (cut)
    with BuildSketch(Plane(origin=(0, -30, 0), x_dir=(1, 0, 0), z_dir=(0, 1, 0))):
        with Locations((15, 0)):
            Circle(SKETCH15_R)
    extrude(amount=-CUT_EXTRUDE10_DEPTH, mode=Mode.SUBTRACT)

    # Sketch16 → Cut-Extrude11 (cut)
    with BuildSketch(Plane.XZ.offset(33)):
        with Locations((6.514718626, 8.485281374)):
            Circle(SKETCH16_R)
        with Locations((23.485281374, 8.485281374)):
            Circle(SKETCH16_R)
        with Locations((23.485281374, -8.485281374)):
            Circle(SKETCH16_R)
        with Locations((6.514718626, -8.485281374)):
            Circle(SKETCH16_R)
    extrude(amount=-CUT_EXTRUDE11_DEPTH, mode=Mode.SUBTRACT)

    # Sketch17 → Cut-Extrude12 (cut)
    with BuildSketch(Plane(origin=(0, -33, 0), x_dir=(1, 0, 0), z_dir=(0, 1, 0))):
        with Locations((-66.5, 0)):
            Rectangle(SKETCH17_W, SKETCH17_H)
    extrude(amount=-CUT_EXTRUDE12_DEPTH, mode=Mode.SUBTRACT)

    # Sketch18 → Boss-Extrude6 (add)
    with BuildSketch(Plane.XZ.offset(35)):
        with Locations((-42.5, 0)):
            Rectangle(SKETCH18_W, SKETCH18_H)
    extrude(amount=BOSS_EXTRUDE6_DEPTH)

    # Sketch19 → Cut-Extrude13 (cut)
    with BuildSketch(Plane.ZY.offset(75)):
        with Locations((0, -40)):
            Rectangle(SKETCH19_W, SKETCH19_H)
    extrude(amount=-CUT_EXTRUDE13_DEPTH, mode=Mode.SUBTRACT)

    # Sketch20 → Cut-Extrude14 (cut)
    with BuildSketch(Plane(origin=(0, -35, 0), x_dir=(1, 0, 0), z_dir=(0, 1, 0))):
        with Locations((-66.5, 0)):
            Rectangle(SKETCH20_W, SKETCH20_H)
    extrude(amount=-CUT_EXTRUDE14_DEPTH, mode=Mode.SUBTRACT)


solid = part_1.part
